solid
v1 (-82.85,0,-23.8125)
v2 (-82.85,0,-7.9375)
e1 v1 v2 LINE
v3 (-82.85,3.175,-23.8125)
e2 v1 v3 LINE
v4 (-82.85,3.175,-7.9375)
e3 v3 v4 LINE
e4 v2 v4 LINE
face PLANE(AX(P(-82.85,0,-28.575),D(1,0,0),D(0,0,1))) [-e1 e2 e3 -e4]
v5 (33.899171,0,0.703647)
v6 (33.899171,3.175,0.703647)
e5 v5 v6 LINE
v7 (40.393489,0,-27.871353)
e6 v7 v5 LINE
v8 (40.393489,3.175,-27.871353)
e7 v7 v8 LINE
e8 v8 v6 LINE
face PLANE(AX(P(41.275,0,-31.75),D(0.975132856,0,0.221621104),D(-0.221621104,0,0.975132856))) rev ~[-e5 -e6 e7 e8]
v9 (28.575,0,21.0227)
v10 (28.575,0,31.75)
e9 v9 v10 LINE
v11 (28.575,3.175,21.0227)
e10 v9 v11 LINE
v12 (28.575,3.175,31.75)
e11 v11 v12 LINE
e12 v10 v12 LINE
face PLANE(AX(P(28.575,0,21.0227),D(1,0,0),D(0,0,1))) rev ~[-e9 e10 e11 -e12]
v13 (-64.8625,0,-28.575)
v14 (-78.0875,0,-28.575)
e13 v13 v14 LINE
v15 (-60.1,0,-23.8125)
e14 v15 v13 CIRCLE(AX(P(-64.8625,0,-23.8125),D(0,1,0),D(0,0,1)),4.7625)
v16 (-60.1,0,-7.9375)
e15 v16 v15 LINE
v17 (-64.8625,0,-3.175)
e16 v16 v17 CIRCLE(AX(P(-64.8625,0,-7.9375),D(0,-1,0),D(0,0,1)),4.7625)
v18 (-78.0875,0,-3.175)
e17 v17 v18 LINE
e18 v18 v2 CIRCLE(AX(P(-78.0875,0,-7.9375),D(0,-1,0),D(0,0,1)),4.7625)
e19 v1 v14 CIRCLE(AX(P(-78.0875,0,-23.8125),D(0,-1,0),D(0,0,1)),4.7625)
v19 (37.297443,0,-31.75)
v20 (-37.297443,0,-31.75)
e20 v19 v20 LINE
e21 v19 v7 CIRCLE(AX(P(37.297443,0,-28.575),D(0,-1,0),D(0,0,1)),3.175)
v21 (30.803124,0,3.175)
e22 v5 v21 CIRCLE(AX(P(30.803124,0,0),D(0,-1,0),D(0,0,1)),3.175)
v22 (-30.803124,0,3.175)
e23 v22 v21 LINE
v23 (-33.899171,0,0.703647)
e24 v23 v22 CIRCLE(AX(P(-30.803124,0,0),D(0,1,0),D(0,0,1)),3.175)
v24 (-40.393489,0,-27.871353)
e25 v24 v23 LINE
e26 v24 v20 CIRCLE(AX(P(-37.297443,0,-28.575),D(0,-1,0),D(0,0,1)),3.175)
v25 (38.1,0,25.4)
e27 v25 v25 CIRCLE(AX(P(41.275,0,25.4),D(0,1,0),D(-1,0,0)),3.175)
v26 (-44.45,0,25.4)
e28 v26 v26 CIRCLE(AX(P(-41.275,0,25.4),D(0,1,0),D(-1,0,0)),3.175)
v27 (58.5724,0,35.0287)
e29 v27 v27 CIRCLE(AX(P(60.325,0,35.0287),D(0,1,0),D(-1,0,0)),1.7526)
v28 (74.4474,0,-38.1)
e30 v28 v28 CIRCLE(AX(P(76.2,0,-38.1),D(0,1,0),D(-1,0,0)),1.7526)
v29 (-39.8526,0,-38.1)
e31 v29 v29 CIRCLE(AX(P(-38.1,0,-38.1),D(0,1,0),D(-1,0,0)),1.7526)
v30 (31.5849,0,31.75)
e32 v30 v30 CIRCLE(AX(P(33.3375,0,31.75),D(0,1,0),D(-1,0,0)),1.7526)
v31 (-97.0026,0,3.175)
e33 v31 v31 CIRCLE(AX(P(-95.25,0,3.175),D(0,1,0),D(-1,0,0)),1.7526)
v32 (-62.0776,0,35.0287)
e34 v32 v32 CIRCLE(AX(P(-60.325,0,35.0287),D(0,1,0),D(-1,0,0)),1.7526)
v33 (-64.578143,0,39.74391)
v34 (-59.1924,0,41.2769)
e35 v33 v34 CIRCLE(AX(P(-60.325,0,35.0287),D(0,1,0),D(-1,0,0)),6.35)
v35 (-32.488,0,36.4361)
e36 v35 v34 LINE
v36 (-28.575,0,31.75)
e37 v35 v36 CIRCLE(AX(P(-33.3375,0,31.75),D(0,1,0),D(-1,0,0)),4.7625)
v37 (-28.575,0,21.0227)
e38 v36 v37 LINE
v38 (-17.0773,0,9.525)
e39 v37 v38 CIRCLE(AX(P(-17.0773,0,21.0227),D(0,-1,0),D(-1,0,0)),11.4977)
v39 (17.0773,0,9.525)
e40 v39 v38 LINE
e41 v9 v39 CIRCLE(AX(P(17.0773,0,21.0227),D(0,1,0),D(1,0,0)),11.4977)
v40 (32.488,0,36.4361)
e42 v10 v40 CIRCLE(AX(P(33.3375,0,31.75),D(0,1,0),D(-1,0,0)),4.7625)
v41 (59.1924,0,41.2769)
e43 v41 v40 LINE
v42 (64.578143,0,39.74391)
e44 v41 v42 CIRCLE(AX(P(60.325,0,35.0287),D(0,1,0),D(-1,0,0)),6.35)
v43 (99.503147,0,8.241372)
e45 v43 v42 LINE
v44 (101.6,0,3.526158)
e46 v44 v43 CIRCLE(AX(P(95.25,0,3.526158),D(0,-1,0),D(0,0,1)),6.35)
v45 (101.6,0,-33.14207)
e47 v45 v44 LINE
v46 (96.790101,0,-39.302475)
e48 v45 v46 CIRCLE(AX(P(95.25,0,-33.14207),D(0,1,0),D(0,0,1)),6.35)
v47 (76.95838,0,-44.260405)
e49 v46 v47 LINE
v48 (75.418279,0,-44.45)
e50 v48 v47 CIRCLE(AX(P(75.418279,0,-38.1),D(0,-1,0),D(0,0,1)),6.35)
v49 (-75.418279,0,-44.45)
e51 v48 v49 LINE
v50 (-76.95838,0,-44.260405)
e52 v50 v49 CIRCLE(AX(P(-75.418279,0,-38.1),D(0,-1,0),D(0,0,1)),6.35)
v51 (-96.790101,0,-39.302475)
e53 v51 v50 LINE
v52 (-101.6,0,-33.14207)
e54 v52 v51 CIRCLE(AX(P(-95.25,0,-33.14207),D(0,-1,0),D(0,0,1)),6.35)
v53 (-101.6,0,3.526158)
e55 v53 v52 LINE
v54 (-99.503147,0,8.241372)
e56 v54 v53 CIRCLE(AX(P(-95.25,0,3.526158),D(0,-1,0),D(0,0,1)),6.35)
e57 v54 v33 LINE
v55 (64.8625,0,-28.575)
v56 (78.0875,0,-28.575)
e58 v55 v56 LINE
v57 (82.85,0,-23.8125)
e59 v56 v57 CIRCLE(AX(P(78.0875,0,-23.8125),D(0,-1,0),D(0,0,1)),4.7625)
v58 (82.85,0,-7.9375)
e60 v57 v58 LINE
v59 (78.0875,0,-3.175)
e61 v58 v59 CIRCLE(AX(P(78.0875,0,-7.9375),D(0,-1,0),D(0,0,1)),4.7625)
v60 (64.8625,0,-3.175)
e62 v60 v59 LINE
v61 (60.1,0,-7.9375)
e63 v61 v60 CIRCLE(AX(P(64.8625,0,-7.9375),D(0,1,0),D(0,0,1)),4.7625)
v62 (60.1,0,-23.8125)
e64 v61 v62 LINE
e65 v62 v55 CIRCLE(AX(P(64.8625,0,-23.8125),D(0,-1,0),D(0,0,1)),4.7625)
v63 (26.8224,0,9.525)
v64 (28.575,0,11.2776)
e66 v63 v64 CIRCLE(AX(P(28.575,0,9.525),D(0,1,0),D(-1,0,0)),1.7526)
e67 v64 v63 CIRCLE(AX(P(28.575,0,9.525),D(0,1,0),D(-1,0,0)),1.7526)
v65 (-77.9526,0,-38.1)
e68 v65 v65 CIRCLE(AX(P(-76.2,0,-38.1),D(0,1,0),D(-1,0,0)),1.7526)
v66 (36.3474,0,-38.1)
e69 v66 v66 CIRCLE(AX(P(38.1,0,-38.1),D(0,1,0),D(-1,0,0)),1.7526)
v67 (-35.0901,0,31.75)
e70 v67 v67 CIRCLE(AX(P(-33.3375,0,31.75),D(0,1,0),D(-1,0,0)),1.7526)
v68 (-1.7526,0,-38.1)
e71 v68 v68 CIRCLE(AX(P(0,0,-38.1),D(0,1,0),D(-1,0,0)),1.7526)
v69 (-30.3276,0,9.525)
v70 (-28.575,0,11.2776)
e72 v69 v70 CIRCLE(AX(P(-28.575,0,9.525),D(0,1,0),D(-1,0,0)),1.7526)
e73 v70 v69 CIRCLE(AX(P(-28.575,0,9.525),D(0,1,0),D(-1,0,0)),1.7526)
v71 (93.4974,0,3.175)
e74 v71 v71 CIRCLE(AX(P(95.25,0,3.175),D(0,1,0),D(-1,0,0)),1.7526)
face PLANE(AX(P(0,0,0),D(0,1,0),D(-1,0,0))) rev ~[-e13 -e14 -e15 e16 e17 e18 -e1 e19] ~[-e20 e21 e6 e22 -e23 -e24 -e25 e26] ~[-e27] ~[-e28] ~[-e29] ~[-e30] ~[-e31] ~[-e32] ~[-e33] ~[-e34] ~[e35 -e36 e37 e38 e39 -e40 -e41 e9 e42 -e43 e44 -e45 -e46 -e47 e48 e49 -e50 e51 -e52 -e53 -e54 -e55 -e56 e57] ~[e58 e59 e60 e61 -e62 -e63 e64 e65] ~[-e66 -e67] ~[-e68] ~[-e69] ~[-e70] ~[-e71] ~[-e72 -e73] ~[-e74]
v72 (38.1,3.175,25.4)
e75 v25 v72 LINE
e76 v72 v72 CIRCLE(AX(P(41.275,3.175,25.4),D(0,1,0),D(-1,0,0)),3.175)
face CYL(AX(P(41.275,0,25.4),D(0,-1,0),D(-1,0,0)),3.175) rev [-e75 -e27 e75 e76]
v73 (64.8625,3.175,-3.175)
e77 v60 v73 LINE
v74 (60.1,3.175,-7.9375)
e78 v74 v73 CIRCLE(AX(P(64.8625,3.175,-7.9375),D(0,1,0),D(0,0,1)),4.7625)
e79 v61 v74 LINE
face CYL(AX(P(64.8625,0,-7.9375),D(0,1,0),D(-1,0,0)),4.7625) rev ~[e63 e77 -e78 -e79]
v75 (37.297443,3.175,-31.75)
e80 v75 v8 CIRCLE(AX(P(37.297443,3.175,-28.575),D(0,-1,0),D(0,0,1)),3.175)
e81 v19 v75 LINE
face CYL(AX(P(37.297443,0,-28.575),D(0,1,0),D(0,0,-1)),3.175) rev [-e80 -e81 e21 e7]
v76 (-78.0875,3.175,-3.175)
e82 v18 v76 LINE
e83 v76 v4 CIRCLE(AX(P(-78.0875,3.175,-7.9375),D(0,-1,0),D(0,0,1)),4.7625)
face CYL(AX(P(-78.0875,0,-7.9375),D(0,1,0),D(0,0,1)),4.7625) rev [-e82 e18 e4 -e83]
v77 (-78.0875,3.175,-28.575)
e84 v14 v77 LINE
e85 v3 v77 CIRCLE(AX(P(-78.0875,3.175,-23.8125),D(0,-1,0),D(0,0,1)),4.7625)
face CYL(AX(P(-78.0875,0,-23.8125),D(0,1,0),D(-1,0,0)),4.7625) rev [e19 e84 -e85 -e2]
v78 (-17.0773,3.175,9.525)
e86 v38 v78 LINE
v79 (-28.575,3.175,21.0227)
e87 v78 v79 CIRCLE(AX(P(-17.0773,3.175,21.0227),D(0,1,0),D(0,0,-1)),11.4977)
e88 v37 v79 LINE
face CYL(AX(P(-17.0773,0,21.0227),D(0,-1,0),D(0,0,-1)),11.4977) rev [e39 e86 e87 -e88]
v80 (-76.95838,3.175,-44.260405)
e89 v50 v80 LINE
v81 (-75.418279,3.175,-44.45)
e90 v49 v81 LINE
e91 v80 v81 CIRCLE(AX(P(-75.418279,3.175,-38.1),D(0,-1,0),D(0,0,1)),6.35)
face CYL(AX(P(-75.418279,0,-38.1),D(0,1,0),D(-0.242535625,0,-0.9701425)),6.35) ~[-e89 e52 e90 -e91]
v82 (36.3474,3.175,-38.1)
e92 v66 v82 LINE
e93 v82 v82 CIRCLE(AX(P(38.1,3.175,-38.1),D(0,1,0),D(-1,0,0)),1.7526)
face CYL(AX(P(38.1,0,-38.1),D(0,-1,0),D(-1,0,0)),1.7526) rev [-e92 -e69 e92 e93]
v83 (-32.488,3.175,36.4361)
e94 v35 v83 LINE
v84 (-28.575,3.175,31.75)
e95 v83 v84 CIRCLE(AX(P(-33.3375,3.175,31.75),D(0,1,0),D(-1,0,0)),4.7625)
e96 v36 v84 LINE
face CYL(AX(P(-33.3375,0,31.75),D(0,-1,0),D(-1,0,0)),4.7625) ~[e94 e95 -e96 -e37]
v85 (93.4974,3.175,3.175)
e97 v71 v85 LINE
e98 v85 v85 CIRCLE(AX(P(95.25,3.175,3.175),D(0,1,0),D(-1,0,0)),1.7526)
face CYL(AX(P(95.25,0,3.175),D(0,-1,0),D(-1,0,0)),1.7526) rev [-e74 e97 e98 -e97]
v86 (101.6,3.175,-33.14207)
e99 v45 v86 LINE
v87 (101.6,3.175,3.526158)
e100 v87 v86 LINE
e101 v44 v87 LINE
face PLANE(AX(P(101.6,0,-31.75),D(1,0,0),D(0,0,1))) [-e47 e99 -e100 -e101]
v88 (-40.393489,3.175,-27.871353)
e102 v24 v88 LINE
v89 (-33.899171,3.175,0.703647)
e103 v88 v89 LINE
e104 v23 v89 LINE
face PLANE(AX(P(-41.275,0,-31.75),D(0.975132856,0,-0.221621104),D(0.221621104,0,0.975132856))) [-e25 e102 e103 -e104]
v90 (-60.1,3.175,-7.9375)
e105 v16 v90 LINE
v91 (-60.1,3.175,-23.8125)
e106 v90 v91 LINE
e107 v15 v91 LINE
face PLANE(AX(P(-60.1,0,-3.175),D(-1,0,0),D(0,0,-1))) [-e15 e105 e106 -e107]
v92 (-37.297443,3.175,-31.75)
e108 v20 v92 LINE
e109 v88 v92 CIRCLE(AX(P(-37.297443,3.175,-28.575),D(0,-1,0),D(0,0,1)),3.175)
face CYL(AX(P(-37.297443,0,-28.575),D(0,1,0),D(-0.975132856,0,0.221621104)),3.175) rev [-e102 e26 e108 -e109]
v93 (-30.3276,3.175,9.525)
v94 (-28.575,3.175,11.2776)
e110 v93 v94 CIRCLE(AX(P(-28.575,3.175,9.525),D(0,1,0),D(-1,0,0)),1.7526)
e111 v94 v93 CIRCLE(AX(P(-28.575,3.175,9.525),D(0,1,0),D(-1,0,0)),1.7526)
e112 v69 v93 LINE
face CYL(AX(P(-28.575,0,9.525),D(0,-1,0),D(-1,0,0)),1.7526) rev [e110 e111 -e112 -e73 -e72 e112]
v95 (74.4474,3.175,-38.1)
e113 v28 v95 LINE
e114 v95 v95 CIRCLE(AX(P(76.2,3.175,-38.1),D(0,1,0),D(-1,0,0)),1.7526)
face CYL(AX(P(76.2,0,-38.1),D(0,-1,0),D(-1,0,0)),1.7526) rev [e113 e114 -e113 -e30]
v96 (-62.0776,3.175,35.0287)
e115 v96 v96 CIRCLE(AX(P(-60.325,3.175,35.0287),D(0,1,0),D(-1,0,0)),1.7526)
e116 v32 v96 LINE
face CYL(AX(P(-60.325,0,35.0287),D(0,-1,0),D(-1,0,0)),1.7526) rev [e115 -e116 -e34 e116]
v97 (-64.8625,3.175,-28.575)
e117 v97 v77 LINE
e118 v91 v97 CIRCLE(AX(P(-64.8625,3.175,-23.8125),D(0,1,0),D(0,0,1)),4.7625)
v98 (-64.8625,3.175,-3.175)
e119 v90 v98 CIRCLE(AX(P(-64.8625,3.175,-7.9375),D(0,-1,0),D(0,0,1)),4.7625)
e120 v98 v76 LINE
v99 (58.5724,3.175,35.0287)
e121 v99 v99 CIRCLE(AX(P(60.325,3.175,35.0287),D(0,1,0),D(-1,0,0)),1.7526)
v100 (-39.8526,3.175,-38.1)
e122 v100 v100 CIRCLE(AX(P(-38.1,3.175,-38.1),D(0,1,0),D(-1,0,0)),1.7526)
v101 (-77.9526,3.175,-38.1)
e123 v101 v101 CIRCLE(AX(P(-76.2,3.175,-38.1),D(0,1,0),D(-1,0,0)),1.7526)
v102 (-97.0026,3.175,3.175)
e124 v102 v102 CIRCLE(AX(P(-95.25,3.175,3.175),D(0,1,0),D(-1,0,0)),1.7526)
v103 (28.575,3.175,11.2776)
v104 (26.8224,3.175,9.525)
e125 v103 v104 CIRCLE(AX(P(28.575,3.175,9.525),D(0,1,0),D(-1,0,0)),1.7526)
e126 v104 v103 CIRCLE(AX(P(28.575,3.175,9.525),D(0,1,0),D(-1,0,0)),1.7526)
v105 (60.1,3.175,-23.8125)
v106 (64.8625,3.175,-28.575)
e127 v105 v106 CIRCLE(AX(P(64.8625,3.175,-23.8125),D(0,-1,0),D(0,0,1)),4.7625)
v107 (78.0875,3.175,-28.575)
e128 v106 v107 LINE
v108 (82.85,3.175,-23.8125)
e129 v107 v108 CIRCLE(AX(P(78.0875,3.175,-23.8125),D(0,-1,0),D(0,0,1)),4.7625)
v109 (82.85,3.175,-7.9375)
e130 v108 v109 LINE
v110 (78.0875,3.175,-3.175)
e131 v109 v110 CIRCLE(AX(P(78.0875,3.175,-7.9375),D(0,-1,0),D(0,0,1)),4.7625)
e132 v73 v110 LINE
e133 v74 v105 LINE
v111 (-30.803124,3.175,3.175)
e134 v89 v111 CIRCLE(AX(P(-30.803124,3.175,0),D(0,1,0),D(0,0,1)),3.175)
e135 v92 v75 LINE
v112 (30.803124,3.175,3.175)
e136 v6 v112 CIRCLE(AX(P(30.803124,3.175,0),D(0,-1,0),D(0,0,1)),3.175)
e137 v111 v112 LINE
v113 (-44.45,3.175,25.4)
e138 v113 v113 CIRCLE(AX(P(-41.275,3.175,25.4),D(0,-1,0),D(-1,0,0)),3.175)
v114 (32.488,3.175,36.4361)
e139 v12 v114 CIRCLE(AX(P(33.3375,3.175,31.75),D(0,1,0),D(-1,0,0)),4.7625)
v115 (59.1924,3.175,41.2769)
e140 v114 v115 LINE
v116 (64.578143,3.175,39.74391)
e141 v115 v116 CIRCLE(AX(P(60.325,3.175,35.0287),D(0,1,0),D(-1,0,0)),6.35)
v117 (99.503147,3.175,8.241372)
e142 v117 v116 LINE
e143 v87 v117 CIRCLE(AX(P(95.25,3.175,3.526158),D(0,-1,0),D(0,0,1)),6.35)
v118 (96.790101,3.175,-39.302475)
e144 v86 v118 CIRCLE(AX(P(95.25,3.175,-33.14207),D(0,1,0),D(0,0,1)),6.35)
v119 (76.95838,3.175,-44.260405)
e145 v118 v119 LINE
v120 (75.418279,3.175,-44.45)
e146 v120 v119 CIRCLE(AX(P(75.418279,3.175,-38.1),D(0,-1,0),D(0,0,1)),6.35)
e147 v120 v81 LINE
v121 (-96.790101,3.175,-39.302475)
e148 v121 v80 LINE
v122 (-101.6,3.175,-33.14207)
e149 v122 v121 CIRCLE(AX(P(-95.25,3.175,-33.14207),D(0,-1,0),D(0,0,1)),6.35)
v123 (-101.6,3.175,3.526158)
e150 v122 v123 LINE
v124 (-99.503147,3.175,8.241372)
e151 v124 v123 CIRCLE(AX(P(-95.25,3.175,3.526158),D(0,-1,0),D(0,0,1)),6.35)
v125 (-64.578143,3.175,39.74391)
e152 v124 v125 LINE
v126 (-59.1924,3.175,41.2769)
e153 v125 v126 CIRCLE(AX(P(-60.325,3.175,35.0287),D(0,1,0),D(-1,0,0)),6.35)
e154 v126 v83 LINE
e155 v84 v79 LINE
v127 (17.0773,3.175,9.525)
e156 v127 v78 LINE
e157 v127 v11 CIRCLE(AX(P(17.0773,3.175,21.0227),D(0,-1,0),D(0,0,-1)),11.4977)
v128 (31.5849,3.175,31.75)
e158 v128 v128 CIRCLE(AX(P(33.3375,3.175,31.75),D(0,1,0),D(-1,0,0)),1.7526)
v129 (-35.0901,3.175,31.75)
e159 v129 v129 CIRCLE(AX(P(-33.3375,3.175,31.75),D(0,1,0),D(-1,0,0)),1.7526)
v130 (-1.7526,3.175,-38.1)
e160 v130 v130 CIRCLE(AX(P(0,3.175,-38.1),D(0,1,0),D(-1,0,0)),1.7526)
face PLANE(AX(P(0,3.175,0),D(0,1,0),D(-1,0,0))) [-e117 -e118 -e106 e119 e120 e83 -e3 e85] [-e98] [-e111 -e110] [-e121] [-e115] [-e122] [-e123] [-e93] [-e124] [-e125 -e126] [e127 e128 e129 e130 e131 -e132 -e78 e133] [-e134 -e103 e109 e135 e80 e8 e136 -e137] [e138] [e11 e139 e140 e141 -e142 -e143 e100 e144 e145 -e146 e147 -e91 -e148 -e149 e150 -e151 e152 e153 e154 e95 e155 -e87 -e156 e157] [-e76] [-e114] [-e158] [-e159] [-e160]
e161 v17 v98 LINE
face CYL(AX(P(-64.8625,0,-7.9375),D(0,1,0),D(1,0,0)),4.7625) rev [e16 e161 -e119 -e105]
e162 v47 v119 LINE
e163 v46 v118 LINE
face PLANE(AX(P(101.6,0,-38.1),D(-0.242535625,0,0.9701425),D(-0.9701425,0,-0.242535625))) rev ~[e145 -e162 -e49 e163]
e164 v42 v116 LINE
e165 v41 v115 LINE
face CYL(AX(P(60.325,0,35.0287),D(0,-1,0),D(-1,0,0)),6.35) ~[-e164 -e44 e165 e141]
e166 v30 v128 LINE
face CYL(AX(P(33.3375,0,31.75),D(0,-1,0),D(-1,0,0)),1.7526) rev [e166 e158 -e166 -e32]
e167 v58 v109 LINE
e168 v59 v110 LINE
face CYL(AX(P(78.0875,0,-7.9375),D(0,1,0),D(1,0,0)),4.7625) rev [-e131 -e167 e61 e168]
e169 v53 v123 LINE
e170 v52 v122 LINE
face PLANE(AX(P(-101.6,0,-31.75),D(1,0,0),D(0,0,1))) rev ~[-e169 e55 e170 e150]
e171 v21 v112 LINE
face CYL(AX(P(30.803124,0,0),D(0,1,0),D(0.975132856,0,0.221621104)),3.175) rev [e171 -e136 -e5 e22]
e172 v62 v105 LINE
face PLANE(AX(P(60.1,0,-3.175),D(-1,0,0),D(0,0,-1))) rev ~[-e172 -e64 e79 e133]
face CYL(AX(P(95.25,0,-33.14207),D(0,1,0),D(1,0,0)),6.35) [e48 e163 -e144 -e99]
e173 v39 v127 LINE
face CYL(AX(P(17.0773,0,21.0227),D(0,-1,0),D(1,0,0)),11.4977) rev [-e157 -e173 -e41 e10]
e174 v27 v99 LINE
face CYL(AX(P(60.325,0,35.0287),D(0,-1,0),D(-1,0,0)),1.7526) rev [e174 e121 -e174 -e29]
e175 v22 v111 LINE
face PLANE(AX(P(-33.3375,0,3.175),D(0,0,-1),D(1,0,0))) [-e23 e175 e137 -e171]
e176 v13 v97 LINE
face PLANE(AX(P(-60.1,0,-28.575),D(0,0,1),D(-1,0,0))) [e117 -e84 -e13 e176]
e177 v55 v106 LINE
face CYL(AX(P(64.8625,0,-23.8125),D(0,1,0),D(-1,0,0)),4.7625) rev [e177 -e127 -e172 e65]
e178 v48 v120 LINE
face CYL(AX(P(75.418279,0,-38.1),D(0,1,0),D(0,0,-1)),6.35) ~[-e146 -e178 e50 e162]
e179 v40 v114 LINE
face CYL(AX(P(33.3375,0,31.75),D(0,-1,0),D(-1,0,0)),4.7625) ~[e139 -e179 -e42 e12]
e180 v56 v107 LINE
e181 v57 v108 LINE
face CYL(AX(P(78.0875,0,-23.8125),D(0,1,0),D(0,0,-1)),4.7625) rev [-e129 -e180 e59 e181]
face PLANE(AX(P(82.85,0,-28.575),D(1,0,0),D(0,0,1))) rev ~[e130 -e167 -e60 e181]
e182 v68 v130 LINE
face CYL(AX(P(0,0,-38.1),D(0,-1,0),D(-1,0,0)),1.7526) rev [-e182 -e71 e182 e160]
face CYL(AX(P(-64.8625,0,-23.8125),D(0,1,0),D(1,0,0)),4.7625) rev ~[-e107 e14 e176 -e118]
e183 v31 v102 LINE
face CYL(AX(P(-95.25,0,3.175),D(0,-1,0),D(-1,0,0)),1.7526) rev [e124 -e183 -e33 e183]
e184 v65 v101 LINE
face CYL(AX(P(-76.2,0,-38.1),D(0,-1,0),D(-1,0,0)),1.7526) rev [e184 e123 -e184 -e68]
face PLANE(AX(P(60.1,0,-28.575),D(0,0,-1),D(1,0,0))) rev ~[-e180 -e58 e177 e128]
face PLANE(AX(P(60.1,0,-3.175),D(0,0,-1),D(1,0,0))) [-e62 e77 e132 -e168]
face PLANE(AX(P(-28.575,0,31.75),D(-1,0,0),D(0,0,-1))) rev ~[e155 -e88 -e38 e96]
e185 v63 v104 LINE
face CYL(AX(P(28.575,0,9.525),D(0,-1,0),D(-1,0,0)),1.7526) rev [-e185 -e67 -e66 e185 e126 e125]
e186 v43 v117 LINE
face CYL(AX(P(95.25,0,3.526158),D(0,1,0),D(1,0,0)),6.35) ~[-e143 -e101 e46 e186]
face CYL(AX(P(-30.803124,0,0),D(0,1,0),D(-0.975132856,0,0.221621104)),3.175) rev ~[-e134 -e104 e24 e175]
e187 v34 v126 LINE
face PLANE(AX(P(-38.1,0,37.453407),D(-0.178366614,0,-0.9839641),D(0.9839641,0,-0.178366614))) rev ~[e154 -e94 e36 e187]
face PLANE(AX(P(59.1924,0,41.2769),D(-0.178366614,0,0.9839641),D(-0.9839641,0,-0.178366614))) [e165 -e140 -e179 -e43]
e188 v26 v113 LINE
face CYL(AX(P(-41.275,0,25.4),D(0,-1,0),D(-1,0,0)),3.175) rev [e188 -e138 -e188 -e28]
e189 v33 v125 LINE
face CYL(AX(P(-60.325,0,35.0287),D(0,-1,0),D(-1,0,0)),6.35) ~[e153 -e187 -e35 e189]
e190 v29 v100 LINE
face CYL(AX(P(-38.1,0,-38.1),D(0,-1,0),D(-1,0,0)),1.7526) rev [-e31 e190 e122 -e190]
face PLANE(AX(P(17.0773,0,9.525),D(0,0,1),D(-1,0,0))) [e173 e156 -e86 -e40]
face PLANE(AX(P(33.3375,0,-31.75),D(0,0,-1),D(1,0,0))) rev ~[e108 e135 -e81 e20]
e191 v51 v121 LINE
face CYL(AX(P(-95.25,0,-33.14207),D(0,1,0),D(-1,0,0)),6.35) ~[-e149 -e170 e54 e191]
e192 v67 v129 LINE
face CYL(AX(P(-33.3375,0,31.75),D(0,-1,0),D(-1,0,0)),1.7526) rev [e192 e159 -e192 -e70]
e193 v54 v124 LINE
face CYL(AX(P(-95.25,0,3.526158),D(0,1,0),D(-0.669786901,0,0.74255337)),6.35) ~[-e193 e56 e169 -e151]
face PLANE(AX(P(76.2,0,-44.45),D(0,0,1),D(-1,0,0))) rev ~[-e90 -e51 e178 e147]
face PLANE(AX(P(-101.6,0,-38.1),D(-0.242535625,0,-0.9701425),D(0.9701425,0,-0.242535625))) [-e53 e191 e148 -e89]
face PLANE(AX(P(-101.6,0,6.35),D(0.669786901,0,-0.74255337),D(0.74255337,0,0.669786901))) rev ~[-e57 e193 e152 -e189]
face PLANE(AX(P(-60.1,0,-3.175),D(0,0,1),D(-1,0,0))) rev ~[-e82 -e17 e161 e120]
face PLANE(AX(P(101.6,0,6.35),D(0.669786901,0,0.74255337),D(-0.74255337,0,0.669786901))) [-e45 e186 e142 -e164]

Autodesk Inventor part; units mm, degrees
ref_plane "YZ Plane" through (0, 0, 0) normal (1, 0, 0) x (0, 1, 0)
ref_plane "XZ Plane" through (0, 0, 0) normal (0, 1, 0) x (-1, 0, 0)
ref_plane "XY Plane" through (0, 0, 0) normal (0, 0, 1) x (1, 0, 0)
sketch "Sketch1" plane through (0, 0, 0) normal (0, 1, 0) x (-1, 0, 0)
  line L0 (101.6, 38.1) -> (-101.6, 38.1) construction
  line L1 (-101.6, 38.1) -> (-101.6, -38.1) construction
  line L2 (-101.6, -38.1) -> (101.6, -38.1) construction
  line L3 (101.6, -38.1) -> (101.6, 38.1) construction
  line L4 (101.6, 38.1) -> (-101.6, -38.1) construction
  line L5 (-101.6, 38.1) -> (101.6, -38.1) construction
  line L6 (-28.575, 66.675) -> (28.575, 66.675) construction
  line L7 (28.575, 66.675) -> (28.575, 9.525)
  line L8 (28.575, 9.525) -> (-28.575, 9.525) construction
  line L9 (-28.575, 9.525) -> (-28.575, 66.675)
  line L10 (-28.575, 66.675) -> (28.575, 9.525) construction
  line L11 (28.575, 66.675) -> (-28.575, 9.525) construction
  circle A0 centre (-38.1, 50.8) radius 3.175
  line L12 (0, 38.1) -> (0, -38.1) construction
  circle A1 centre (-38.1, 50.8) radius 9.525
  line L13 (-38.1, 60.325) -> (-28.575, 60.325)
  circle A2 centre (38.1, 50.8) radius 3.175
  circle A3 centre (38.1, 50.8) radius 9.525
  line L14 (38.1, 60.325) -> (28.575, 60.325)
  circle A4 centre (-76.2, -38.1) radius 1.7526
  circle A5 centre (-95.25, 3.175) radius 1.7526
  circle A6 centre (76.2, -38.1) radius 1.7526
  circle A7 centre (95.25, 3.175) radius 1.7526
  line L15 (-101.6, -38.1) -> (-101.6, 6.35)
  line L16 (-101.6, 6.35) -> (-44.4797, 57.8728)
  line L17 (101.6, -38.1) -> (101.6, 6.35)
  line L18 (101.6, 6.35) -> (44.4797, 57.8728)
  line L19 (-42.6417, 42.4275) -> (-86.025, 3.2956) construction
  line L20 (-86.025, 3.2956) -> (-86.025, -38.1)
  line L21 (86.025, -38.1) -> (86.025, 3.2956)
  line L22 (86.025, 3.2956) -> (42.6417, 42.4275) construction
  line L23 (0, -38.1) -> (-95.25, -38.1) construction
  line L24 (0, -38.1) -> (95.25, -38.1) construction
  circle A8 centre (-60.325, 35.0287) radius 1.7526
  circle A9 centre (-33.3375, 31.75) radius 1.7526
  line L25 (-38.1, 0) -> (-38.1, 41.275)
  line L26 (-38.1, 0) -> (0, 0) construction
  circle A10 centre (60.325, 35.0287) radius 1.7526
  circle A11 centre (33.3375, 31.75) radius 1.7526
  line L27 (38.1, 0) -> (38.1, 41.275)
  line L28 (38.1, 0) -> (0, 0) construction
  line L29 (-86.025, 0) -> (-60.1, 0)
  line L30 (-60.1, 0) -> (-60.1, -31.75)
  line L31 (-60.1, -31.75) -> (-87.975, -31.75)
  line L32 (-101.6, -38.1) -> (101.6, -38.1) construction
  line L33 (101.6, -38.1) -> (101.6, 19.05)
  line L34 (101.6, 19.05) -> (-101.6, 19.05) construction
  line L35 (-101.6, 19.05) -> (-101.6, -38.1)
  line L36 (-101.6, 19.05) -> (-87.5203, 19.05) construction
  line L37 (87.5203, 19.05) -> (101.6, 19.05) construction
  circle A12 centre (-38.1, 0) radius 3.175 construction
  circle A13 centre (-38.1, 0) radius 6.35 construction
  circle A14 centre (38.1, 0) radius 3.175 construction
  circle A15 centre (38.1, 0) radius 6.35 construction
  circle A16 centre (28.575, 9.525) radius 1.7526
  circle A17 centre (28.575, 9.525) radius 4.7625
  arc A18 (17.0773, 9.525) -> (28.575, 21.0227) centre (17.0773, 21.0227) ccw
  circle A19 centre (-28.575, 9.525) radius 1.7526
  circle A20 centre (-28.575, 9.525) radius 4.7625
  arc A21 (-28.575, 21.0227) -> (-17.0773, 9.525) centre (-17.0773, 21.0227) ccw
  arc A22 (31.4325, 5.715) -> (38.1, 19.05) centre (21.4312, 19.05) ccw
  arc A23 (-38.1, 19.05) -> (-31.4325, 5.715) centre (-21.4312, 19.05) ccw
  line L38 (-56.925, -38.1) -> (-56.925, 29.544)
  line L39 (86.025, 0) -> (60.1, 0)
  line L40 (60.1, 0) -> (60.1, -31.75)
  line L41 (60.1, -31.75) -> (87.975, -31.75)
  line L42 (56.925, -38.1) -> (56.925, 29.544)
  line L43 (-28.575, 4.7625) -> (28.575, 4.7625)
  line L44 (101.6, -31.75) -> (-101.6, -31.75)
  line L45 (-101.6, -31.75) -> (-101.6, -44.45) construction
  line L46 (-101.6, -44.45) -> (101.6, -44.45)
  line L47 (101.6, -44.45) -> (101.6, -31.75) construction
  circle A24 centre (0, -38.1) radius 1.7526
  circle A25 centre (38.1, -38.1) radius 1.7526
  circle A26 centre (-38.1, -38.1) radius 1.7526
  line L48 (101.6, -38.1) -> (76.2, -44.45)
  line L49 (-101.6, -38.1) -> (-76.2, -44.45)
  line L50 (76.2, -38.1) -> (76.2, -44.45) construction
  line L51 (-76.2, -38.1) -> (-76.2, -44.45) construction
  line L52 (59.1924, 41.2769) -> (32.488, 36.4361)
  circle A27 centre (60.325, 35.0287) radius 6.35
  circle A28 centre (33.3375, 31.75) radius 4.7625
  line L53 (-59.1924, 41.2769) -> (-32.488, 36.4361)
  circle A29 centre (-60.325, 35.0287) radius 6.35
  circle A30 centre (-33.3375, 31.75) radius 4.7625
  line L54 (-86.025, 0) -> (-60.1, 0)
  line L55 (-60.1, 0) -> (-60.1, -3.175)
  line L56 (-60.1, -3.175) -> (-86.025, -3.175)
  line L57 (-86.025, -3.175) -> (-86.025, 0)
  line L58 (-60.1, -15.875) -> (-86.025, -15.875) construction
  line L59 (-60.1, -28.575) -> (-86.025, -28.575)
  line L60 (-82.85, -38.1) -> (-82.85, 0.1248)
  line L61 (60.1, -3.175) -> (86.025, -3.175)
  line L62 (60.1, -15.875) -> (86.025, -15.875) construction
  line L63 (60.1, -28.575) -> (86.025, -28.575)
  line L64 (82.85, -38.1) -> (82.85, 0.1248)
  line L65 (-33.3375, -31.75) -> (33.3375, -31.75)
  line L66 (33.3375, -31.75) -> (33.3375, 3.175) construction
  line L67 (33.3375, 3.175) -> (-33.3375, 3.175)
  line L68 (-33.3375, 3.175) -> (-33.3375, -31.75) construction
  circle A31 centre (41.275, 25.4) radius 3.175
  circle A32 centre (-41.275, 25.4) radius 3.175
  line L69 (-17.0773, 9.525) -> (17.0773, 9.525)
  line L70 (0, -31.75) -> (-41.275, -31.75)
  line L71 (-41.275, -31.75) -> (-33.3375, 3.175)
  line L72 (41.275, -31.75) -> (33.3375, 3.175)
  point P0 (28.575, 38.1)
  point P1 (-28.575, 38.1)
  point P2 (28.575, 60.325)
  point P3 (44.4797, 57.8728)
  point P4 (101.6, -15.875)
  point P5 (38.1, 41.275)
  point P6 (-86.025, -31.75)
  point P7 (-101.6, 6.35)
  point P8 (101.6, 6.35)
  point P9 (31.75, 0)
  point P10 (38.1, 6.35)
  point P11 (-38.1, 6.35)
  point P12 (-31.75, 0)
  point P13 (86.025, -31.75)
  point P14 (56.925, 29.544)
  point P15 (-17.0773, 9.525)
  point P16 (-28.575, 21.0227)
  point P17 (-38.1, 19.05)
  point P18 (-31.4325, 5.715)
  point P19 (-21.8502, 0)
  point P20 (21.8502, 0)
  point P21 (-25.2074, 12.8926)
  point P22 (-28.575, 14.2875)
  point P23 (-23.8125, 9.525)
  point P24 (-28.575, 50.8)
  point P25 (25.2074, 12.8926)
  point P26 (28.575, 14.2875)
  point P27 (23.8125, 9.525)
  point P28 (28.575, 50.8)
  point P29 (26.8224, 9.525)
  point P30 (28.575, 11.2776)
  point P31 (56.925, -31.75)
  point P32 (-56.925, -31.75)
  point P33 (-28.575, 31.75)
  point P34 (-64.5781, 39.7439)
  point P35 (64.5781, 39.7439)
  point P36 (28.575, 31.75)
  point P37 (-82.85, -3.175)
  point P38 (-60.1, -28.575)
  point P39 (-82.85, -28.575)
  point P40 (60.1, -3.175)
  point P41 (82.85, -3.175)
  point P42 (82.85, -28.575)
  point P43 (60.1, -28.575)
  point P44 (33.3375, -31.75)
  point P45 (86.025, -31.75)
  point P46 (-86.025, -31.75)
  point P47 (-60.1, -31.75)
  point P48 (-101.6, -31.75)
  point P49 (-26.8224, 9.525)
  point P50 (-28.575, 11.2776)
  point P51 (-39.8526, -38.1)
  point P52 (-36.3474, -38.1)
  point P53 (-1.7526, -38.1)
  point P54 (1.7526, -38.1)
  point P55 (36.3474, -38.1)
  point P56 (39.8526, -38.1)
  point P57 (-60.1, -31.75)
  point P58 (-87.975, -31.75)
  point P59 (41.275, -31.75)
  dimension "d0" = 203.2
  dimension "d1" = 76.2
  dimension "d4" = 57.15
  dimension "d6" = 6.35
  dimension "d7" = 38.1
  dimension "d8" = 19.05
  dimension "d10" = 3.5052
  dimension "d11" = 3.5052
  dimension "d12" = 0
  dimension "d14" = 25.4
  dimension "d15" = 6.35
  dimension "d20" = 50.8
  dimension "d21" = 41.275
  dimension "d22" = 44.45
  dimension "d24" = 12.7
  dimension "d25" = 15.575
  dimension "d26" = 12.7
  dimension "d27" = 15.575
  dimension "d31" = 3.5052
  dimension "d32" = 3.5052
  dimension "d33" = 6.35
  dimension "d34" = 31.75
  dimension "d35" = 4.7625
  dimension "d36" = 22.225
  dimension "d37" = 9.525
  dimension "d39" = 31.75
  dimension "d40" = 6.35
  dimension "d42" = 57.15
  dimension "d43" = 6.35
  dimension "d44" = 9.525
  dimension "d45" = 9.525
  dimension "d46" = 12.7
  dimension "d104" = 3.5052
  dimension "d105" = 9.525
  dimension "d106" = 3.175
  dimension "d123" = 88.9
  dimension "d124" = 12.7
  dimension "d125" = 3.5052
  dimension "d126" = 3.5052
  dimension "d127" = 38.1
  dimension "d128" = 28.575
  dimension "d129" = 3.175
  dimension "d130" = 3.175
  dimension "d131" = 33.3375
  dimension "d132" = 33.3375
  dimension "d133" = 34.925
  dimension "d135" = 6.35
  dimension "d138" = 6.35
  dimension "d139" = 3.175
  dimension "d140" = 41.275
  dimension "d144" = 41.5
extrude "Extrusion1" add sketch "Sketch1" along normal blind 3.175 contours A28 L27 A22 A17 L7 | A28 | L7 A17 A18 | L52 L27 A28 | L27 L52 A27 L18 L17 L44 L41 L21 L39 L40 L72 L67 L71 L30 L29 L20 L31 L15 L16 A29 L53 L25 A23 A20 L43 A17 A22 | A27 | A17 | A17 L43 A20 A21 L69 A18 | L17 L48 L46 L49 L15 L44 L31 L41 | A20 | A23 L25 A30 L9 A20 | A20 L9 A21 | L41 L64 L63 L21 | L63 L64 L61 L21 | L41 L40 L63 L64 | A30 | L61 L64 L39 L21 | L25 L53 A30 | L61 L40 L39 L64 | A29 | L20 L59 L60 L31 | L20 L56 L60 L59 | L60 L59 L30 L31 | L20 L29 L60 L56 | L60 L29 L30 L56
fillet "Fillet1" radius 6.35 6 edges at (101.6, 1.5875, -38.1) (101.6, 1.5875, 6.35) (-101.6, 1.5875, 6.35) (76.2, 1.5875, -44.45) (-76.2, 1.5875, -44.45) (-101.6, 1.5875, -38.1)
fillet "Fillet5" radius 3.175 4 edges at (33.3375, 1.5875, 3.175) (-33.3375, 1.5875, 3.175) (-41.275, 1.5875, -31.75) (41.275, 1.5875, -31.75)
fillet "Fillet6" radius 4.7625 8 edges at (-82.85, 1.5875, -28.575) (-60.1, 1.5875, -28.575) (-60.1, 1.5875, -3.175) (-82.85, 1.5875, -3.175) (60.1, 1.5875, -28.575) (82.85, 1.5875, -28.575) (60.1, 1.5875, -3.175) (82.85, 1.5875, -3.175)
equation "\"d35\" = 0.5 * d37"
properties part number "Chassis" material "UHMW, White"
